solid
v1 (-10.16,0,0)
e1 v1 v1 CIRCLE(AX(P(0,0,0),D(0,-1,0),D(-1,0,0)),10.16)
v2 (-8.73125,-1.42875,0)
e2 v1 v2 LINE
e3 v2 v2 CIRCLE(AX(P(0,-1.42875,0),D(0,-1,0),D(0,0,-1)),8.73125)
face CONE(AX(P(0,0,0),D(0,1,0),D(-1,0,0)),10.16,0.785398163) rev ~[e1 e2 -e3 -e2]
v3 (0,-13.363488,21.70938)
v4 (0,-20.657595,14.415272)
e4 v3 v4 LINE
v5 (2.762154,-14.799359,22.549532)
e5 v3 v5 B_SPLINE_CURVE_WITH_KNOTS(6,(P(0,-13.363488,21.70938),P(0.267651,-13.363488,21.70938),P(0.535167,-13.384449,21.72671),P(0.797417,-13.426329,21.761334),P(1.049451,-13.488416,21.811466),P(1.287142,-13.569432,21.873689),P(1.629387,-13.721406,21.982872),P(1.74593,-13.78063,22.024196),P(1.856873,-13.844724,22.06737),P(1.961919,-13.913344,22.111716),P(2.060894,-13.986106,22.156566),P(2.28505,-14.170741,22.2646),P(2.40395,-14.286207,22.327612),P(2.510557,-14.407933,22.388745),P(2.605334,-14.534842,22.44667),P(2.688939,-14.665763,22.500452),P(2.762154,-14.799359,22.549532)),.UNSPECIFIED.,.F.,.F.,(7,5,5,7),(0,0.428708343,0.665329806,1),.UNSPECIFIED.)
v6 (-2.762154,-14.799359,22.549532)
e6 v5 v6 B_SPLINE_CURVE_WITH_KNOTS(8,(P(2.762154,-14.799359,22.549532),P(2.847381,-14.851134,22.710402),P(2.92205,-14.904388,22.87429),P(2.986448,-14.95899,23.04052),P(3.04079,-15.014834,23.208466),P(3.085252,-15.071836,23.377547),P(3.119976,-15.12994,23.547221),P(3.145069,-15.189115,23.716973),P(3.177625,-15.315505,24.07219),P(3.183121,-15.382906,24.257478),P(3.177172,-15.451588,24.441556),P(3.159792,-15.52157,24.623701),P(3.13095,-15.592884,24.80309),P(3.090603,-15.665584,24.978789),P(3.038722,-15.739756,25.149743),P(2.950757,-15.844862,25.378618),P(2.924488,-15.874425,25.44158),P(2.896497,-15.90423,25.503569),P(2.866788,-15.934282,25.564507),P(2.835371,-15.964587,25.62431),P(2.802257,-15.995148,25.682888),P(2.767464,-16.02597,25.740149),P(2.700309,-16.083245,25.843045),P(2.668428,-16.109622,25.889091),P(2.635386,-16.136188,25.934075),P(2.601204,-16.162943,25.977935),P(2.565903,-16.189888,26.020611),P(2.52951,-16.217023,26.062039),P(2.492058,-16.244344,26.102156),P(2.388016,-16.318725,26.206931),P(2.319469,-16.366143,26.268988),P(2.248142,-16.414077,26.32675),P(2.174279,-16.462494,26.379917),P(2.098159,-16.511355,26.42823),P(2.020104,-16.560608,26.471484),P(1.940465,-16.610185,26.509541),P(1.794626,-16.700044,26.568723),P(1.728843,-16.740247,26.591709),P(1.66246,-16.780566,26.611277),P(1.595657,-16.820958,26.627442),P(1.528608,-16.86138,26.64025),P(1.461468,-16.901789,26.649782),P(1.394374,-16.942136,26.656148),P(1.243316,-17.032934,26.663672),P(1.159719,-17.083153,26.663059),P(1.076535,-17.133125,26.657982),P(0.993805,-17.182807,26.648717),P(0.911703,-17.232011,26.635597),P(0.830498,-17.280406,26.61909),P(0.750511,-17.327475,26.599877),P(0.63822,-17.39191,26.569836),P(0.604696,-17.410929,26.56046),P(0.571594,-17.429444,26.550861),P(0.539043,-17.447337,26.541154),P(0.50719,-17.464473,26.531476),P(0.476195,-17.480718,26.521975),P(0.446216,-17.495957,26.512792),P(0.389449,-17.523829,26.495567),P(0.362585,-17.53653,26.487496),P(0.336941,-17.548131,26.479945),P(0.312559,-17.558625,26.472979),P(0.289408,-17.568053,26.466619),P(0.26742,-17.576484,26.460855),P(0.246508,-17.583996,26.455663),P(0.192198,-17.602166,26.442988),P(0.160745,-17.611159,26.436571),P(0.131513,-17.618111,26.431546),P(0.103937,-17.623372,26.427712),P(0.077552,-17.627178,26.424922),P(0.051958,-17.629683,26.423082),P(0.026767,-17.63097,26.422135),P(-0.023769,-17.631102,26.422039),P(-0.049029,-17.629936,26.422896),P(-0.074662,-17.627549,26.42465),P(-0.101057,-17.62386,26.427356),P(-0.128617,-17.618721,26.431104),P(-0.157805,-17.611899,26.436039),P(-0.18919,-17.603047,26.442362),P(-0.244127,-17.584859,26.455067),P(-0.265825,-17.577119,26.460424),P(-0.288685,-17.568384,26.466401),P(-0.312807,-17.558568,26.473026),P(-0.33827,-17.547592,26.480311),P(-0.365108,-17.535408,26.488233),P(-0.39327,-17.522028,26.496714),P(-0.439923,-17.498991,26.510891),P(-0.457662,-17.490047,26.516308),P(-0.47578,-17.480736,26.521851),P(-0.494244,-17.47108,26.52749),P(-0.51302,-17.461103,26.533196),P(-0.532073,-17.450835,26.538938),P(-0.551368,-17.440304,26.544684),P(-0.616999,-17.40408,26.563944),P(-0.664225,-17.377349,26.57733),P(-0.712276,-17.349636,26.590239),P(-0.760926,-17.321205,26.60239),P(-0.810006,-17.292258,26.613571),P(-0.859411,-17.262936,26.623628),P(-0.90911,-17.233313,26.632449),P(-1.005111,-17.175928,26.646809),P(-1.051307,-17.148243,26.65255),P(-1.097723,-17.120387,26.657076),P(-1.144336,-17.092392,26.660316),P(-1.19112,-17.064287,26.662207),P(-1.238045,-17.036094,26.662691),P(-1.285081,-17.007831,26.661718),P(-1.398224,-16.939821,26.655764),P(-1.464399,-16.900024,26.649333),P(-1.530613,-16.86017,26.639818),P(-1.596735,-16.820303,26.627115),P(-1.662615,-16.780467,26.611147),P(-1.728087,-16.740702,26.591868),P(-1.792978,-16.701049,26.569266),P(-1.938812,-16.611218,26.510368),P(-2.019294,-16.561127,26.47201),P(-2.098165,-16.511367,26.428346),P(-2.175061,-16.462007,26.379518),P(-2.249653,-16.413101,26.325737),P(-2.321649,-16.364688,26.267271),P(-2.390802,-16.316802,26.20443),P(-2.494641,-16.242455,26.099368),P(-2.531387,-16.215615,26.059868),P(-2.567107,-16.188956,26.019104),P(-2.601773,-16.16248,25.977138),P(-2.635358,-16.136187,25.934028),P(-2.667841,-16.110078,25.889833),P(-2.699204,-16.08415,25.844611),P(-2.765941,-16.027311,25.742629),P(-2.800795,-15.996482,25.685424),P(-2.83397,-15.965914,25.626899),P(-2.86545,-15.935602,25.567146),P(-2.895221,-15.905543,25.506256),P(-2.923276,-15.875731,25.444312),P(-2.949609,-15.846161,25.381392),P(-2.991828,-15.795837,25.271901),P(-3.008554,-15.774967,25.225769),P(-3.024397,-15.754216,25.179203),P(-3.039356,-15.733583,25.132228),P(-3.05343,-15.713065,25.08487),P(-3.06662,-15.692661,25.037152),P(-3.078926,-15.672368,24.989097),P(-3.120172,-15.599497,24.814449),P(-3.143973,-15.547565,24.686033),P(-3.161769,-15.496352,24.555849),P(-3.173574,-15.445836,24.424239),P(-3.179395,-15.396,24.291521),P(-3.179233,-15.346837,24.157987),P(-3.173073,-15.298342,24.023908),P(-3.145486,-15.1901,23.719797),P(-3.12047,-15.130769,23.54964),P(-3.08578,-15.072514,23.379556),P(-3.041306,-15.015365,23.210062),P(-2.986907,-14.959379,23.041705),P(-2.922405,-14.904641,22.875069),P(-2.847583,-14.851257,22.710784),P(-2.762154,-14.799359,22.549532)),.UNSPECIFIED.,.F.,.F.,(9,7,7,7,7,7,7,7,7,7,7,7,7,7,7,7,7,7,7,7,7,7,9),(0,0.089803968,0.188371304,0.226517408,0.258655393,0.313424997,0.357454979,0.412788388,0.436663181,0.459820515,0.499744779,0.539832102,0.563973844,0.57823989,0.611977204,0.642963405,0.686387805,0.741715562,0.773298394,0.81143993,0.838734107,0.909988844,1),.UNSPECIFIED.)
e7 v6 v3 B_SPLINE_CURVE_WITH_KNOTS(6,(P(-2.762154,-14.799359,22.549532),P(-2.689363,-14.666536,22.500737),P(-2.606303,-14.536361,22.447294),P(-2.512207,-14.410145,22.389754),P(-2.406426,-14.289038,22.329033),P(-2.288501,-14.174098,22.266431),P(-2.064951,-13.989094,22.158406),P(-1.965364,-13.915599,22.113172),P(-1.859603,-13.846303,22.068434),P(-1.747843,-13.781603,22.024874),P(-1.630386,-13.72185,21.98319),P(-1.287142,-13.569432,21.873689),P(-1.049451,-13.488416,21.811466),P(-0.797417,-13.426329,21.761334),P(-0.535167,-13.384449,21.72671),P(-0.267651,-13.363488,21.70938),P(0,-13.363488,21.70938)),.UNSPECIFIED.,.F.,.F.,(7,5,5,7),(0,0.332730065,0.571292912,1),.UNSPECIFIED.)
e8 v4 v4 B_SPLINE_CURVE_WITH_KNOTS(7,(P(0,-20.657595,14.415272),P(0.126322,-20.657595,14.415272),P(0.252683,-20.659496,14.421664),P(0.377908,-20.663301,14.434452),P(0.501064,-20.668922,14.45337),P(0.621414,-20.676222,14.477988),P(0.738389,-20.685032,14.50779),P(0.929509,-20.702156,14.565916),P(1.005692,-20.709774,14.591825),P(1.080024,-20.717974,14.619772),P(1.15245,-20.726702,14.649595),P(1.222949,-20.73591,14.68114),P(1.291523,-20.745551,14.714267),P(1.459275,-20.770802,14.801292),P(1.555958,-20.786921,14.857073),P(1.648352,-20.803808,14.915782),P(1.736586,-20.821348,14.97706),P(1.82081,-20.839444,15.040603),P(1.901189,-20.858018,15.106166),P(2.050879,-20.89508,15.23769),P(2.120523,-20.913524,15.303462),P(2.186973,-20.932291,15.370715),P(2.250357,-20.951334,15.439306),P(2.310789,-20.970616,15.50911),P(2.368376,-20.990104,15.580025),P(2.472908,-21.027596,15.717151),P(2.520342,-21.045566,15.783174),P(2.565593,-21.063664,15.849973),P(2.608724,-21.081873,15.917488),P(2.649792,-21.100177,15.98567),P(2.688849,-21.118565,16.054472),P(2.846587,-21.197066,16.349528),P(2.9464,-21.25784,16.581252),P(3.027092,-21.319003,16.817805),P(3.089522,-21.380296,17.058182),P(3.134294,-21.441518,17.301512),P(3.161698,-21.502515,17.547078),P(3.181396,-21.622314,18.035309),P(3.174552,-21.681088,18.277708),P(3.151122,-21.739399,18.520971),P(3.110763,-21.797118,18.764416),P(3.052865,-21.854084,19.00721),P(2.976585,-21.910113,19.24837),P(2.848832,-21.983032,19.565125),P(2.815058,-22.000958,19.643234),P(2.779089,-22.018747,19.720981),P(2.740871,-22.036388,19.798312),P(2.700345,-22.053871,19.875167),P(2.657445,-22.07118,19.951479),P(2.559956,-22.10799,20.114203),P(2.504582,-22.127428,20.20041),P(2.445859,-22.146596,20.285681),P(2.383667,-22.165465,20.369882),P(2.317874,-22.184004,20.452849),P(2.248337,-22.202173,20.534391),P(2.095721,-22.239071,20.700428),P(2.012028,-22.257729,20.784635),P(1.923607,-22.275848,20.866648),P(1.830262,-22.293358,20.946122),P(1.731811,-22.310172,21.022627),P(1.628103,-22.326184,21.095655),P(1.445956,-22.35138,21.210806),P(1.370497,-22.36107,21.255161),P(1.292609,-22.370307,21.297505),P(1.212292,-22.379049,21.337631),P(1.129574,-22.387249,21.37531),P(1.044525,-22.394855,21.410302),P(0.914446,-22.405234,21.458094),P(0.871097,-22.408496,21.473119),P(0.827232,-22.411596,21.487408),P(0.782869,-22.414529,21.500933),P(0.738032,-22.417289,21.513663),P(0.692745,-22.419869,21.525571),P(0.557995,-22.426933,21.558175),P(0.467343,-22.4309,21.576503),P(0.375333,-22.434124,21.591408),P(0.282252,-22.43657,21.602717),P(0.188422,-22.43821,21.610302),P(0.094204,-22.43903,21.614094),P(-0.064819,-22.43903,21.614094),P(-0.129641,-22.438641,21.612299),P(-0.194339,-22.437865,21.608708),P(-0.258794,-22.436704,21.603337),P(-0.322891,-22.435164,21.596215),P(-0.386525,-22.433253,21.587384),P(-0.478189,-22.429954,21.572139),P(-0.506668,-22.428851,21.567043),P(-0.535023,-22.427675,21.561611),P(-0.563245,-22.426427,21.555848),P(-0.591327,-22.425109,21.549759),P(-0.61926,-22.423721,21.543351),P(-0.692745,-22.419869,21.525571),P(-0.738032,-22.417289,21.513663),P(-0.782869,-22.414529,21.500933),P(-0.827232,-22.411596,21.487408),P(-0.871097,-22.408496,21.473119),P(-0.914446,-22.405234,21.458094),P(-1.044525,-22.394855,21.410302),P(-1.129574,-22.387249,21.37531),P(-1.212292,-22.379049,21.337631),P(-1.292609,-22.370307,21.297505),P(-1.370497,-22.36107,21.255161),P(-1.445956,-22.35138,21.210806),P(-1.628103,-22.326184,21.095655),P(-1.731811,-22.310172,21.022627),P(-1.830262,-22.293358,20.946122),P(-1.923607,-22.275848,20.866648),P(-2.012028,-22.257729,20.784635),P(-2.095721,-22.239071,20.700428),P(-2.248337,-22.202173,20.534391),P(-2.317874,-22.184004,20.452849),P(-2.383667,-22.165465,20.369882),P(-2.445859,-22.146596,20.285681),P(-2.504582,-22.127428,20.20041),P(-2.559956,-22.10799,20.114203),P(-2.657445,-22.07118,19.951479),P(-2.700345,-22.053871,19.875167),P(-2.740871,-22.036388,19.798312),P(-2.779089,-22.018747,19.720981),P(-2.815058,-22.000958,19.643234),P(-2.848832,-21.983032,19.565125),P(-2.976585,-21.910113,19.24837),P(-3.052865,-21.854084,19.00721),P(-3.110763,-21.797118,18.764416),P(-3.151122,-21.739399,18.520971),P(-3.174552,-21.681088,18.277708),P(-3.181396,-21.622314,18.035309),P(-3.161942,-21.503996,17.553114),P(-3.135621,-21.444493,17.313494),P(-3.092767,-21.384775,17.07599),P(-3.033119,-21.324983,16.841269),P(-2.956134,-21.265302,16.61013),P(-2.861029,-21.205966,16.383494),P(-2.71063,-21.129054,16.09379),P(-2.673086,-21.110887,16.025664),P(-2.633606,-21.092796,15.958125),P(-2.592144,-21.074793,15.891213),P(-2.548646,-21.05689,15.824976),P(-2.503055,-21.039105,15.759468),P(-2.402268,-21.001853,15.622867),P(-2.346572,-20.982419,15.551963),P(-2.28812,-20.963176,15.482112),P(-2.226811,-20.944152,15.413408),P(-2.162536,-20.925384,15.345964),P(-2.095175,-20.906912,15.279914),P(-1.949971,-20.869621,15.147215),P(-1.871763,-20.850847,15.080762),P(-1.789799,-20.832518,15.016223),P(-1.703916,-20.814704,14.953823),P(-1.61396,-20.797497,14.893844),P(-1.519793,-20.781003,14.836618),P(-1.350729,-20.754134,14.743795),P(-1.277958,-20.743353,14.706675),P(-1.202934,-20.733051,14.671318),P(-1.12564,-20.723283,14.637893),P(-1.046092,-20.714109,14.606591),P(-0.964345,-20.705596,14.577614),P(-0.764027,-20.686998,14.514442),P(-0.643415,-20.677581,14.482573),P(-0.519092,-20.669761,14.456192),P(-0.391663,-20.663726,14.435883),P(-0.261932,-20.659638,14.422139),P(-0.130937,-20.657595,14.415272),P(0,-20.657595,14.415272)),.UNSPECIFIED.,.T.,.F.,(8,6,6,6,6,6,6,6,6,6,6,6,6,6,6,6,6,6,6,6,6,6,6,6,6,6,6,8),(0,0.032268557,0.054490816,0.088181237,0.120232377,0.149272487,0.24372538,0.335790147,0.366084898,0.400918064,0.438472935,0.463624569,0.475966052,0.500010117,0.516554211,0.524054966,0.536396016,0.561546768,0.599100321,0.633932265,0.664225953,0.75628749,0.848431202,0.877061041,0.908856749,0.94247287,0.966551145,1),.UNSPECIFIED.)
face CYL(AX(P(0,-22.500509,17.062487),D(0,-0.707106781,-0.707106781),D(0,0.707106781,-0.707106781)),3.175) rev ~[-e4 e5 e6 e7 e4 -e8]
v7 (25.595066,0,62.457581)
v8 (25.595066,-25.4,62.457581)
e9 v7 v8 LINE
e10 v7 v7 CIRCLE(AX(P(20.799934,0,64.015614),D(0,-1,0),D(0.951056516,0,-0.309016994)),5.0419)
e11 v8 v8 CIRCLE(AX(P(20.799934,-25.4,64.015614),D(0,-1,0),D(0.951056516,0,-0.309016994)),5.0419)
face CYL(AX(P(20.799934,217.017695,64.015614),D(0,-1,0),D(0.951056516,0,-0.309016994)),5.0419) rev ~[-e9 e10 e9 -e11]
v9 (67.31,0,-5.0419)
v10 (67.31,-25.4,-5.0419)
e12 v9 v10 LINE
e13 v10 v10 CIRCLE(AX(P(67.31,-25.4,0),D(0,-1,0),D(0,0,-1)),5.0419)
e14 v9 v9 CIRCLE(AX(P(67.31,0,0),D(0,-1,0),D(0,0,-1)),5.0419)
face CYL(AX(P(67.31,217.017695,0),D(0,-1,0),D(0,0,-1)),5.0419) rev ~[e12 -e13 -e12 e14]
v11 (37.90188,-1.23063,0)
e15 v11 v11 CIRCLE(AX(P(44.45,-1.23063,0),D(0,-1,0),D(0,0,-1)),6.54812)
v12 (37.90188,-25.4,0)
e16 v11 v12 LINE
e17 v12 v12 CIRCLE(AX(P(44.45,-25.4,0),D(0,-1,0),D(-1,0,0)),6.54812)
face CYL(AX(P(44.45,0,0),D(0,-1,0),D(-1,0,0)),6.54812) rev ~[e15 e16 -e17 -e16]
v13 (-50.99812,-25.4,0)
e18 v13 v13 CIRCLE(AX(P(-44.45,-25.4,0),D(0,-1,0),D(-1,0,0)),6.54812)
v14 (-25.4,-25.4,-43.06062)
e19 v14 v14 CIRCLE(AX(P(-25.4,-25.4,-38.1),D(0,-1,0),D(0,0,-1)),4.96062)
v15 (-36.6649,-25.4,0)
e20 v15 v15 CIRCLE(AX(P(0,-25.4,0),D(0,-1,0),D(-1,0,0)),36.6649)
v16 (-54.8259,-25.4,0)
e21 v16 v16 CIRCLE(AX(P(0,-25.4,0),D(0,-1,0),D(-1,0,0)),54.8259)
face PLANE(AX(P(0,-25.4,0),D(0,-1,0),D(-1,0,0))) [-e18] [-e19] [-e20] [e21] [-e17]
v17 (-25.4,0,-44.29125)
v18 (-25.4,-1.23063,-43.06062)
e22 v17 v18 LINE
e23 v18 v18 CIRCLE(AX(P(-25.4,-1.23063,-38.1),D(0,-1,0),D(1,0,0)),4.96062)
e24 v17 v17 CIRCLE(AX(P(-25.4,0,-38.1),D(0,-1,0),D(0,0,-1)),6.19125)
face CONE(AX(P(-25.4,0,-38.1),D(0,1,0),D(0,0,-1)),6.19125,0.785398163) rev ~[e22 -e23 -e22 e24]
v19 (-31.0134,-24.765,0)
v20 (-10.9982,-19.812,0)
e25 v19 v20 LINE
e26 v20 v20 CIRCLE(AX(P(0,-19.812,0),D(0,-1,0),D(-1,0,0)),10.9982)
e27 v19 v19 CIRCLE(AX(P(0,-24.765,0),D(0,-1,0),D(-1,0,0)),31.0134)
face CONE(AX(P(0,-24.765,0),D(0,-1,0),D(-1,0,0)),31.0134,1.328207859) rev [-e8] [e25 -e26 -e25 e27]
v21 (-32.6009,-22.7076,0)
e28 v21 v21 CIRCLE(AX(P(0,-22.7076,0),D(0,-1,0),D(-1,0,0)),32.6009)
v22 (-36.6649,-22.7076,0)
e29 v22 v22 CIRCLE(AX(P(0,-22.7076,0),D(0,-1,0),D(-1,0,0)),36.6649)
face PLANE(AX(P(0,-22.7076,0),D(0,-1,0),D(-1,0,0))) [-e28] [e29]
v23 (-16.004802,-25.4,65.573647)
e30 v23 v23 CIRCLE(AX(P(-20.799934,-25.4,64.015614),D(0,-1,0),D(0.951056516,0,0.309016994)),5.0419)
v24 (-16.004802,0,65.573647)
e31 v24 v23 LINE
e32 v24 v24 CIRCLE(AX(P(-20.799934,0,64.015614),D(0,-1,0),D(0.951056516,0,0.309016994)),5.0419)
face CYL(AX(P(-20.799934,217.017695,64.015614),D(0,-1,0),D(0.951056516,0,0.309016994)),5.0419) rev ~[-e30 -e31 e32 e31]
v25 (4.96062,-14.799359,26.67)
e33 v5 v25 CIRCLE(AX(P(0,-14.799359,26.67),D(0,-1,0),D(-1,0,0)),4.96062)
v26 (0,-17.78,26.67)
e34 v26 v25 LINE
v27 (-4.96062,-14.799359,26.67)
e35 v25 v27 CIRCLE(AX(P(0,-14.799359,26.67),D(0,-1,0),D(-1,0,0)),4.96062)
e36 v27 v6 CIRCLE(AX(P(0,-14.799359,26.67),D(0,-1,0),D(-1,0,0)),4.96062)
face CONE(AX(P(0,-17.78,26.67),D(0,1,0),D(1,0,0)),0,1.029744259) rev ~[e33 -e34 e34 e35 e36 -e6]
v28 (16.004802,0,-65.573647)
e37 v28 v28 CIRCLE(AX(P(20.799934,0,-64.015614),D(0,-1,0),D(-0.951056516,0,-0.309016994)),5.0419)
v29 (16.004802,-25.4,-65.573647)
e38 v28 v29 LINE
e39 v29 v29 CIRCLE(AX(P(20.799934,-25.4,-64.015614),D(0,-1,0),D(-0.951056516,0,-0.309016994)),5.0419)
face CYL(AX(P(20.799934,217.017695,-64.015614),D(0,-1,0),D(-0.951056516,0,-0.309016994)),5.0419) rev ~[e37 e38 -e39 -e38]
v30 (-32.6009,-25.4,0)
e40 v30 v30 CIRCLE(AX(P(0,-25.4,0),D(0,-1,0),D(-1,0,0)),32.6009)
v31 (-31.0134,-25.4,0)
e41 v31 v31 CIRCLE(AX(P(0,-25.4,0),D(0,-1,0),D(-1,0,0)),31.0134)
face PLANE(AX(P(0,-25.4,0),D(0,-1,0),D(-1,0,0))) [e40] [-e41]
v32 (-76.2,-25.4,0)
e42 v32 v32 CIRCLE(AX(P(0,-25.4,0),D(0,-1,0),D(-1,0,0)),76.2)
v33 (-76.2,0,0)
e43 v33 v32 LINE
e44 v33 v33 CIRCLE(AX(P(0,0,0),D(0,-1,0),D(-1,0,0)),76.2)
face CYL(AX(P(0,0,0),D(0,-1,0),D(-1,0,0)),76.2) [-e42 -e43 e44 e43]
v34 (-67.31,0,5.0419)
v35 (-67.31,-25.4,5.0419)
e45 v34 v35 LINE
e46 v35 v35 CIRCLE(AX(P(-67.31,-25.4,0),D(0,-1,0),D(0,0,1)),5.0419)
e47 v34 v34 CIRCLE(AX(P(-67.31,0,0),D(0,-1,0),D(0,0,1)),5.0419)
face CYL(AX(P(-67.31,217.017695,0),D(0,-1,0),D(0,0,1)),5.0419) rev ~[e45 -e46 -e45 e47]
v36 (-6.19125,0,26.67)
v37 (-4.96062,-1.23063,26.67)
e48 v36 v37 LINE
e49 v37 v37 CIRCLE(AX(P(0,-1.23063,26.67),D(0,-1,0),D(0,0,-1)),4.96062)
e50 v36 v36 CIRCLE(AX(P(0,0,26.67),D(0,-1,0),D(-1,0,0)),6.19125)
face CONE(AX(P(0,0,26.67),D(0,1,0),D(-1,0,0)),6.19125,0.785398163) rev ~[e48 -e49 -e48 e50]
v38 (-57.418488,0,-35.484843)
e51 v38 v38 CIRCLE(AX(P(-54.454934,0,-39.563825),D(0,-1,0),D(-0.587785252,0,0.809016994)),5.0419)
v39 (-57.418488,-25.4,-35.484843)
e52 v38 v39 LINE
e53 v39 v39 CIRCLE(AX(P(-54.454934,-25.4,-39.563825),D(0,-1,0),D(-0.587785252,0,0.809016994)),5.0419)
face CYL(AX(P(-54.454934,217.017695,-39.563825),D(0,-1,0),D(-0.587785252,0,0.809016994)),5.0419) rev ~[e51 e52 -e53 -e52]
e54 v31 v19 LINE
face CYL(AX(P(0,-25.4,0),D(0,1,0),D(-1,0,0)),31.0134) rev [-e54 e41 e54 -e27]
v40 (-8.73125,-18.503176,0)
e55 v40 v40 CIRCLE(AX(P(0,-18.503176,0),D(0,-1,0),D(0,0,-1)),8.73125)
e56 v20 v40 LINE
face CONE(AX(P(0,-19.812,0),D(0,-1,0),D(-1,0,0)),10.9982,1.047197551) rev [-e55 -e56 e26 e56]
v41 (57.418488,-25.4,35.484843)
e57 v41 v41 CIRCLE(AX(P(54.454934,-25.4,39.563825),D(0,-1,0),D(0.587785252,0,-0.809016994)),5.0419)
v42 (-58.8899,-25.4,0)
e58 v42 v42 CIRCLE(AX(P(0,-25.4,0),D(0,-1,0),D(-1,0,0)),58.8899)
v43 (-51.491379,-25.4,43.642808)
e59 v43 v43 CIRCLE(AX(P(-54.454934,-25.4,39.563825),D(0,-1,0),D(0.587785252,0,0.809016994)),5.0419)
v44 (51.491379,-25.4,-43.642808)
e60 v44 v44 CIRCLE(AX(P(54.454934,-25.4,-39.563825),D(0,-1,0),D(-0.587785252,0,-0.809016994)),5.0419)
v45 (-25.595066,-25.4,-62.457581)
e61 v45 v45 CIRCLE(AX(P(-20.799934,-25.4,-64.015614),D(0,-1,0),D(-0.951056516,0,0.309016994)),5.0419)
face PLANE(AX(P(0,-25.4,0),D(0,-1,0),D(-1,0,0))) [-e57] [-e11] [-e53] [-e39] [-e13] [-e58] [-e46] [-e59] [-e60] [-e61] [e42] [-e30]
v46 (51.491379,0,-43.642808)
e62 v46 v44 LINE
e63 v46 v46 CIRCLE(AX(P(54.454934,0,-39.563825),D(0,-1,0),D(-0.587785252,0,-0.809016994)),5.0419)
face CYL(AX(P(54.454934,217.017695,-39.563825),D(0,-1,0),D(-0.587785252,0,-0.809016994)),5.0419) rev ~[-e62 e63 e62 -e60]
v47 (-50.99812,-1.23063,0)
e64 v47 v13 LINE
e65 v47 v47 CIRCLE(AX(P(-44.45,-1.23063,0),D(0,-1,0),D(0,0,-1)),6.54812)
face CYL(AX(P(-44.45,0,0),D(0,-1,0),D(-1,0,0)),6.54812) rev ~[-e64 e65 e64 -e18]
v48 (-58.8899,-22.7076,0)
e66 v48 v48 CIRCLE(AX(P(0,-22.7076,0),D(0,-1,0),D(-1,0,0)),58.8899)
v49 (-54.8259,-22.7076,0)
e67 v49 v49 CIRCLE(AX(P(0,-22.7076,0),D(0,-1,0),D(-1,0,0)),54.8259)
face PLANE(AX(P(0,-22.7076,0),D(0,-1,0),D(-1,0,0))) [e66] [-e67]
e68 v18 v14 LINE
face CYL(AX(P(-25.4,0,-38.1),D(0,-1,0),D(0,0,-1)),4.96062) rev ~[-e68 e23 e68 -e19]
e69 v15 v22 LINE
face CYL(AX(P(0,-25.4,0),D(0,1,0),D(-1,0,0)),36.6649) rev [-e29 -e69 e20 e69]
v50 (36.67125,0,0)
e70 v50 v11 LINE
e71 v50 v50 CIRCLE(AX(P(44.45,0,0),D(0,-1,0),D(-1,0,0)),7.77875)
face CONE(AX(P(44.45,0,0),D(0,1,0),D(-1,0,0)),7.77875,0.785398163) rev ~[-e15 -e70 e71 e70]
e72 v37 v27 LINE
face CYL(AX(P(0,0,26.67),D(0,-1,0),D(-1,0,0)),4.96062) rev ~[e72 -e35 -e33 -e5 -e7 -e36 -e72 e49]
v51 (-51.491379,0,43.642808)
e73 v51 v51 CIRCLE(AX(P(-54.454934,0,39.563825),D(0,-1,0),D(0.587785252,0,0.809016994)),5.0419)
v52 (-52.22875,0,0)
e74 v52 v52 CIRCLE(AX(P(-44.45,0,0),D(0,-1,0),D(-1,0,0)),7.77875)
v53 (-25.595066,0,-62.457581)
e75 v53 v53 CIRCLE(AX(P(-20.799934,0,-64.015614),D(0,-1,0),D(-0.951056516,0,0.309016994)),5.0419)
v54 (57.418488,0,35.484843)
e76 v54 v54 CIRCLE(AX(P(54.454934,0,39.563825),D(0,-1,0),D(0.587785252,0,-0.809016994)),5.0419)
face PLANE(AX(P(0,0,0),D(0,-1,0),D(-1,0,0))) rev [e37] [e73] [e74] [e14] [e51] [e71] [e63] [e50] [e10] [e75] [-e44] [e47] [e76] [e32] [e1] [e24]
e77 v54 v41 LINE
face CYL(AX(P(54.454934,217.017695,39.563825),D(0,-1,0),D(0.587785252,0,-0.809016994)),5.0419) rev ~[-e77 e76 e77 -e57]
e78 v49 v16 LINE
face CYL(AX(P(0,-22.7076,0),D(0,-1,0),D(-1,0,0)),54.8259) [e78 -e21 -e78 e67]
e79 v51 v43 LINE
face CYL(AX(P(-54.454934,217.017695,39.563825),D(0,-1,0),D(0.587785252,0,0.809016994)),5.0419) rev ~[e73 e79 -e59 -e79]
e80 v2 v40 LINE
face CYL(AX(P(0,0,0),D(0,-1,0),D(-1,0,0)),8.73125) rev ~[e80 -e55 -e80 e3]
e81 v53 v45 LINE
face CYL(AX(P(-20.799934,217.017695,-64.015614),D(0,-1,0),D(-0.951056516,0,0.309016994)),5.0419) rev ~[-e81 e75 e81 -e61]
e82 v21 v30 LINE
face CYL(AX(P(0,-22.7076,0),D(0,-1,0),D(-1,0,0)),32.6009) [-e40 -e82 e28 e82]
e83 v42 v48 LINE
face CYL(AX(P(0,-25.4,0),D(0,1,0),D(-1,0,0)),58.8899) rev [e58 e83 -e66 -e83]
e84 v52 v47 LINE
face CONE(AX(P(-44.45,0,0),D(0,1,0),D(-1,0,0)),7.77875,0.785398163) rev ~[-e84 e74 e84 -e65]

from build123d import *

# Parameters (mm, degrees)
F_3_4_16_TAPPED_HOLE1_D            = 17.4625
F_3_4_16_TAPPED_HOLE1_CSINK_D      = 20.32
F_3_4_16_TAPPED_HOLE1_CSINK_ANGLE  = 90
F_9_16_18_TAPPED_HOLE1_D           = 13.09624
F_9_16_18_TAPPED_HOLE1_CSINK_D     = 15.5575
F_9_16_18_TAPPED_HOLE1_CSINK_ANGLE = 90
F_3_8_CLEARANCE_HOLE2_D            = 10.0838
CIRPATTERN1_COUNT                  = 10
SKETCH15_R                         = 3.175
CUT_EXTRUDE1_DEPTH                 = 12.7
F_7_16_20_TAPPED_HOLE1_D           = 9.92124
F_7_16_20_TAPPED_HOLE1_DEPTH       = 14.799358796
F_7_16_20_TAPPED_HOLE1_CSINK_D     = 12.3825
F_7_16_20_TAPPED_HOLE1_CSINK_ANGLE = 90
F_7_16_20_TAPPED_HOLE1_TIP         = 2.980641204
F_7_16_20_TAPPED_HOLE2_D           = 9.92124
F_7_16_20_TAPPED_HOLE2_CSINK_D     = 12.3825
F_7_16_20_TAPPED_HOLE2_CSINK_ANGLE = 90


with BuildPart() as part:
    # Sketch1 → Revolve1 (revolve)
    with BuildSketch(Plane.XY):
        Polygon((0, 0), (-76.2, 0), (-76.2, -25.4), (-58.8899, -25.4), (-58.8899, -22.7076), (-54.8259, -22.7076), (-54.8259, -25.4), (-36.6649, -25.4), (-36.6649, -22.7076), (-32.6009, -22.7076), (-32.6009, -25.4), (-31.0134, -25.4), (-31.0134, -24.765), (-10.9982, -19.812), (0, -13.462186269), align=None)
    revolve(axis=Axis((0, 0, 0), (0, -1, 0)))

    # 3/4-16 Tapped Hole1 (through all)
    with Locations(Plane(origin=(0, 0, 0), x_dir=(1, 0, 0), z_dir=(0, 1, 0))):
        with Locations((0, 0)):
            CounterSinkHole(F_3_4_16_TAPPED_HOLE1_D / 2, F_3_4_16_TAPPED_HOLE1_CSINK_D / 2, counter_sink_angle=F_3_4_16_TAPPED_HOLE1_CSINK_ANGLE)

    # 9/16-18 Tapped Hole1 (through all)
    with Locations(Plane(origin=(0, 0, 0), x_dir=(1, 0, 0), z_dir=(0, 1, 0))):
        with Locations((-44.45, 0), (44.45, 0)):
            CounterSinkHole(F_9_16_18_TAPPED_HOLE1_D / 2, F_9_16_18_TAPPED_HOLE1_CSINK_D / 2, counter_sink_angle=F_9_16_18_TAPPED_HOLE1_CSINK_ANGLE)

    # 3/8 Clearance Hole2 (through all)
    with Locations(Plane(origin=(67.31, 0, 0), x_dir=(0, 0, 1), z_dir=(0, 1, 0))):
        with Locations((0, 0)):
            f_3_8_clearance_hole2 = Hole(F_3_8_CLEARANCE_HOLE2_D / 2)

    # CirPattern1: 3/8 Clearance Hole2 ×10 about axis
    cirpattern1_axis = Axis((0, 0, 0), (0, 1, 0))
    for i in range(1, CIRPATTERN1_COUNT):
        add(f_3_8_clearance_hole2.rotate(cirpattern1_axis, i * 360 / CIRPATTERN1_COUNT), mode=Mode.SUBTRACT)

    # Sketch15 → Cut-Extrude1 (cut, symmetric)
    with BuildSketch(Plane(origin=(0, -2.71901118, -2.71901118), x_dir=(0, 0.7071067811865489, -0.7071067811865462), z_dir=(0, -0.7071067811865462, -0.7071067811865489))):
        with Locations((-27.975262487, 0)):
            Circle(SKETCH15_R)
    extrude(amount=CUT_EXTRUDE1_DEPTH, both=True, mode=Mode.SUBTRACT)

    # 7/16-20 Tapped Hole1
    with Locations(Plane(origin=(0, 0, 26.67), x_dir=(1, 0, 0), z_dir=(0, 1, 0))):
        with Locations((0, 0)):
            CounterSinkHole(F_7_16_20_TAPPED_HOLE1_D / 2, F_7_16_20_TAPPED_HOLE1_CSINK_D / 2, depth=F_7_16_20_TAPPED_HOLE1_DEPTH, counter_sink_angle=F_7_16_20_TAPPED_HOLE1_CSINK_ANGLE)
            with Locations((0, 0, -(F_7_16_20_TAPPED_HOLE1_DEPTH + F_7_16_20_TAPPED_HOLE1_TIP / 2))):  # 118° drill point
                Cone(0, F_7_16_20_TAPPED_HOLE1_D / 2, F_7_16_20_TAPPED_HOLE1_TIP, mode=Mode.SUBTRACT)

    # 7/16-20 Tapped Hole2 (through all)
    with Locations(Plane(origin=(-25.4, 0, -38.1), x_dir=(0, 0, 1), z_dir=(0, 1, 0))):
        with Locations((0, 0)):
            CounterSinkHole(F_7_16_20_TAPPED_HOLE2_D / 2, F_7_16_20_TAPPED_HOLE2_CSINK_D / 2, counter_sink_angle=F_7_16_20_TAPPED_HOLE2_CSINK_ANGLE)


solid = part.part
